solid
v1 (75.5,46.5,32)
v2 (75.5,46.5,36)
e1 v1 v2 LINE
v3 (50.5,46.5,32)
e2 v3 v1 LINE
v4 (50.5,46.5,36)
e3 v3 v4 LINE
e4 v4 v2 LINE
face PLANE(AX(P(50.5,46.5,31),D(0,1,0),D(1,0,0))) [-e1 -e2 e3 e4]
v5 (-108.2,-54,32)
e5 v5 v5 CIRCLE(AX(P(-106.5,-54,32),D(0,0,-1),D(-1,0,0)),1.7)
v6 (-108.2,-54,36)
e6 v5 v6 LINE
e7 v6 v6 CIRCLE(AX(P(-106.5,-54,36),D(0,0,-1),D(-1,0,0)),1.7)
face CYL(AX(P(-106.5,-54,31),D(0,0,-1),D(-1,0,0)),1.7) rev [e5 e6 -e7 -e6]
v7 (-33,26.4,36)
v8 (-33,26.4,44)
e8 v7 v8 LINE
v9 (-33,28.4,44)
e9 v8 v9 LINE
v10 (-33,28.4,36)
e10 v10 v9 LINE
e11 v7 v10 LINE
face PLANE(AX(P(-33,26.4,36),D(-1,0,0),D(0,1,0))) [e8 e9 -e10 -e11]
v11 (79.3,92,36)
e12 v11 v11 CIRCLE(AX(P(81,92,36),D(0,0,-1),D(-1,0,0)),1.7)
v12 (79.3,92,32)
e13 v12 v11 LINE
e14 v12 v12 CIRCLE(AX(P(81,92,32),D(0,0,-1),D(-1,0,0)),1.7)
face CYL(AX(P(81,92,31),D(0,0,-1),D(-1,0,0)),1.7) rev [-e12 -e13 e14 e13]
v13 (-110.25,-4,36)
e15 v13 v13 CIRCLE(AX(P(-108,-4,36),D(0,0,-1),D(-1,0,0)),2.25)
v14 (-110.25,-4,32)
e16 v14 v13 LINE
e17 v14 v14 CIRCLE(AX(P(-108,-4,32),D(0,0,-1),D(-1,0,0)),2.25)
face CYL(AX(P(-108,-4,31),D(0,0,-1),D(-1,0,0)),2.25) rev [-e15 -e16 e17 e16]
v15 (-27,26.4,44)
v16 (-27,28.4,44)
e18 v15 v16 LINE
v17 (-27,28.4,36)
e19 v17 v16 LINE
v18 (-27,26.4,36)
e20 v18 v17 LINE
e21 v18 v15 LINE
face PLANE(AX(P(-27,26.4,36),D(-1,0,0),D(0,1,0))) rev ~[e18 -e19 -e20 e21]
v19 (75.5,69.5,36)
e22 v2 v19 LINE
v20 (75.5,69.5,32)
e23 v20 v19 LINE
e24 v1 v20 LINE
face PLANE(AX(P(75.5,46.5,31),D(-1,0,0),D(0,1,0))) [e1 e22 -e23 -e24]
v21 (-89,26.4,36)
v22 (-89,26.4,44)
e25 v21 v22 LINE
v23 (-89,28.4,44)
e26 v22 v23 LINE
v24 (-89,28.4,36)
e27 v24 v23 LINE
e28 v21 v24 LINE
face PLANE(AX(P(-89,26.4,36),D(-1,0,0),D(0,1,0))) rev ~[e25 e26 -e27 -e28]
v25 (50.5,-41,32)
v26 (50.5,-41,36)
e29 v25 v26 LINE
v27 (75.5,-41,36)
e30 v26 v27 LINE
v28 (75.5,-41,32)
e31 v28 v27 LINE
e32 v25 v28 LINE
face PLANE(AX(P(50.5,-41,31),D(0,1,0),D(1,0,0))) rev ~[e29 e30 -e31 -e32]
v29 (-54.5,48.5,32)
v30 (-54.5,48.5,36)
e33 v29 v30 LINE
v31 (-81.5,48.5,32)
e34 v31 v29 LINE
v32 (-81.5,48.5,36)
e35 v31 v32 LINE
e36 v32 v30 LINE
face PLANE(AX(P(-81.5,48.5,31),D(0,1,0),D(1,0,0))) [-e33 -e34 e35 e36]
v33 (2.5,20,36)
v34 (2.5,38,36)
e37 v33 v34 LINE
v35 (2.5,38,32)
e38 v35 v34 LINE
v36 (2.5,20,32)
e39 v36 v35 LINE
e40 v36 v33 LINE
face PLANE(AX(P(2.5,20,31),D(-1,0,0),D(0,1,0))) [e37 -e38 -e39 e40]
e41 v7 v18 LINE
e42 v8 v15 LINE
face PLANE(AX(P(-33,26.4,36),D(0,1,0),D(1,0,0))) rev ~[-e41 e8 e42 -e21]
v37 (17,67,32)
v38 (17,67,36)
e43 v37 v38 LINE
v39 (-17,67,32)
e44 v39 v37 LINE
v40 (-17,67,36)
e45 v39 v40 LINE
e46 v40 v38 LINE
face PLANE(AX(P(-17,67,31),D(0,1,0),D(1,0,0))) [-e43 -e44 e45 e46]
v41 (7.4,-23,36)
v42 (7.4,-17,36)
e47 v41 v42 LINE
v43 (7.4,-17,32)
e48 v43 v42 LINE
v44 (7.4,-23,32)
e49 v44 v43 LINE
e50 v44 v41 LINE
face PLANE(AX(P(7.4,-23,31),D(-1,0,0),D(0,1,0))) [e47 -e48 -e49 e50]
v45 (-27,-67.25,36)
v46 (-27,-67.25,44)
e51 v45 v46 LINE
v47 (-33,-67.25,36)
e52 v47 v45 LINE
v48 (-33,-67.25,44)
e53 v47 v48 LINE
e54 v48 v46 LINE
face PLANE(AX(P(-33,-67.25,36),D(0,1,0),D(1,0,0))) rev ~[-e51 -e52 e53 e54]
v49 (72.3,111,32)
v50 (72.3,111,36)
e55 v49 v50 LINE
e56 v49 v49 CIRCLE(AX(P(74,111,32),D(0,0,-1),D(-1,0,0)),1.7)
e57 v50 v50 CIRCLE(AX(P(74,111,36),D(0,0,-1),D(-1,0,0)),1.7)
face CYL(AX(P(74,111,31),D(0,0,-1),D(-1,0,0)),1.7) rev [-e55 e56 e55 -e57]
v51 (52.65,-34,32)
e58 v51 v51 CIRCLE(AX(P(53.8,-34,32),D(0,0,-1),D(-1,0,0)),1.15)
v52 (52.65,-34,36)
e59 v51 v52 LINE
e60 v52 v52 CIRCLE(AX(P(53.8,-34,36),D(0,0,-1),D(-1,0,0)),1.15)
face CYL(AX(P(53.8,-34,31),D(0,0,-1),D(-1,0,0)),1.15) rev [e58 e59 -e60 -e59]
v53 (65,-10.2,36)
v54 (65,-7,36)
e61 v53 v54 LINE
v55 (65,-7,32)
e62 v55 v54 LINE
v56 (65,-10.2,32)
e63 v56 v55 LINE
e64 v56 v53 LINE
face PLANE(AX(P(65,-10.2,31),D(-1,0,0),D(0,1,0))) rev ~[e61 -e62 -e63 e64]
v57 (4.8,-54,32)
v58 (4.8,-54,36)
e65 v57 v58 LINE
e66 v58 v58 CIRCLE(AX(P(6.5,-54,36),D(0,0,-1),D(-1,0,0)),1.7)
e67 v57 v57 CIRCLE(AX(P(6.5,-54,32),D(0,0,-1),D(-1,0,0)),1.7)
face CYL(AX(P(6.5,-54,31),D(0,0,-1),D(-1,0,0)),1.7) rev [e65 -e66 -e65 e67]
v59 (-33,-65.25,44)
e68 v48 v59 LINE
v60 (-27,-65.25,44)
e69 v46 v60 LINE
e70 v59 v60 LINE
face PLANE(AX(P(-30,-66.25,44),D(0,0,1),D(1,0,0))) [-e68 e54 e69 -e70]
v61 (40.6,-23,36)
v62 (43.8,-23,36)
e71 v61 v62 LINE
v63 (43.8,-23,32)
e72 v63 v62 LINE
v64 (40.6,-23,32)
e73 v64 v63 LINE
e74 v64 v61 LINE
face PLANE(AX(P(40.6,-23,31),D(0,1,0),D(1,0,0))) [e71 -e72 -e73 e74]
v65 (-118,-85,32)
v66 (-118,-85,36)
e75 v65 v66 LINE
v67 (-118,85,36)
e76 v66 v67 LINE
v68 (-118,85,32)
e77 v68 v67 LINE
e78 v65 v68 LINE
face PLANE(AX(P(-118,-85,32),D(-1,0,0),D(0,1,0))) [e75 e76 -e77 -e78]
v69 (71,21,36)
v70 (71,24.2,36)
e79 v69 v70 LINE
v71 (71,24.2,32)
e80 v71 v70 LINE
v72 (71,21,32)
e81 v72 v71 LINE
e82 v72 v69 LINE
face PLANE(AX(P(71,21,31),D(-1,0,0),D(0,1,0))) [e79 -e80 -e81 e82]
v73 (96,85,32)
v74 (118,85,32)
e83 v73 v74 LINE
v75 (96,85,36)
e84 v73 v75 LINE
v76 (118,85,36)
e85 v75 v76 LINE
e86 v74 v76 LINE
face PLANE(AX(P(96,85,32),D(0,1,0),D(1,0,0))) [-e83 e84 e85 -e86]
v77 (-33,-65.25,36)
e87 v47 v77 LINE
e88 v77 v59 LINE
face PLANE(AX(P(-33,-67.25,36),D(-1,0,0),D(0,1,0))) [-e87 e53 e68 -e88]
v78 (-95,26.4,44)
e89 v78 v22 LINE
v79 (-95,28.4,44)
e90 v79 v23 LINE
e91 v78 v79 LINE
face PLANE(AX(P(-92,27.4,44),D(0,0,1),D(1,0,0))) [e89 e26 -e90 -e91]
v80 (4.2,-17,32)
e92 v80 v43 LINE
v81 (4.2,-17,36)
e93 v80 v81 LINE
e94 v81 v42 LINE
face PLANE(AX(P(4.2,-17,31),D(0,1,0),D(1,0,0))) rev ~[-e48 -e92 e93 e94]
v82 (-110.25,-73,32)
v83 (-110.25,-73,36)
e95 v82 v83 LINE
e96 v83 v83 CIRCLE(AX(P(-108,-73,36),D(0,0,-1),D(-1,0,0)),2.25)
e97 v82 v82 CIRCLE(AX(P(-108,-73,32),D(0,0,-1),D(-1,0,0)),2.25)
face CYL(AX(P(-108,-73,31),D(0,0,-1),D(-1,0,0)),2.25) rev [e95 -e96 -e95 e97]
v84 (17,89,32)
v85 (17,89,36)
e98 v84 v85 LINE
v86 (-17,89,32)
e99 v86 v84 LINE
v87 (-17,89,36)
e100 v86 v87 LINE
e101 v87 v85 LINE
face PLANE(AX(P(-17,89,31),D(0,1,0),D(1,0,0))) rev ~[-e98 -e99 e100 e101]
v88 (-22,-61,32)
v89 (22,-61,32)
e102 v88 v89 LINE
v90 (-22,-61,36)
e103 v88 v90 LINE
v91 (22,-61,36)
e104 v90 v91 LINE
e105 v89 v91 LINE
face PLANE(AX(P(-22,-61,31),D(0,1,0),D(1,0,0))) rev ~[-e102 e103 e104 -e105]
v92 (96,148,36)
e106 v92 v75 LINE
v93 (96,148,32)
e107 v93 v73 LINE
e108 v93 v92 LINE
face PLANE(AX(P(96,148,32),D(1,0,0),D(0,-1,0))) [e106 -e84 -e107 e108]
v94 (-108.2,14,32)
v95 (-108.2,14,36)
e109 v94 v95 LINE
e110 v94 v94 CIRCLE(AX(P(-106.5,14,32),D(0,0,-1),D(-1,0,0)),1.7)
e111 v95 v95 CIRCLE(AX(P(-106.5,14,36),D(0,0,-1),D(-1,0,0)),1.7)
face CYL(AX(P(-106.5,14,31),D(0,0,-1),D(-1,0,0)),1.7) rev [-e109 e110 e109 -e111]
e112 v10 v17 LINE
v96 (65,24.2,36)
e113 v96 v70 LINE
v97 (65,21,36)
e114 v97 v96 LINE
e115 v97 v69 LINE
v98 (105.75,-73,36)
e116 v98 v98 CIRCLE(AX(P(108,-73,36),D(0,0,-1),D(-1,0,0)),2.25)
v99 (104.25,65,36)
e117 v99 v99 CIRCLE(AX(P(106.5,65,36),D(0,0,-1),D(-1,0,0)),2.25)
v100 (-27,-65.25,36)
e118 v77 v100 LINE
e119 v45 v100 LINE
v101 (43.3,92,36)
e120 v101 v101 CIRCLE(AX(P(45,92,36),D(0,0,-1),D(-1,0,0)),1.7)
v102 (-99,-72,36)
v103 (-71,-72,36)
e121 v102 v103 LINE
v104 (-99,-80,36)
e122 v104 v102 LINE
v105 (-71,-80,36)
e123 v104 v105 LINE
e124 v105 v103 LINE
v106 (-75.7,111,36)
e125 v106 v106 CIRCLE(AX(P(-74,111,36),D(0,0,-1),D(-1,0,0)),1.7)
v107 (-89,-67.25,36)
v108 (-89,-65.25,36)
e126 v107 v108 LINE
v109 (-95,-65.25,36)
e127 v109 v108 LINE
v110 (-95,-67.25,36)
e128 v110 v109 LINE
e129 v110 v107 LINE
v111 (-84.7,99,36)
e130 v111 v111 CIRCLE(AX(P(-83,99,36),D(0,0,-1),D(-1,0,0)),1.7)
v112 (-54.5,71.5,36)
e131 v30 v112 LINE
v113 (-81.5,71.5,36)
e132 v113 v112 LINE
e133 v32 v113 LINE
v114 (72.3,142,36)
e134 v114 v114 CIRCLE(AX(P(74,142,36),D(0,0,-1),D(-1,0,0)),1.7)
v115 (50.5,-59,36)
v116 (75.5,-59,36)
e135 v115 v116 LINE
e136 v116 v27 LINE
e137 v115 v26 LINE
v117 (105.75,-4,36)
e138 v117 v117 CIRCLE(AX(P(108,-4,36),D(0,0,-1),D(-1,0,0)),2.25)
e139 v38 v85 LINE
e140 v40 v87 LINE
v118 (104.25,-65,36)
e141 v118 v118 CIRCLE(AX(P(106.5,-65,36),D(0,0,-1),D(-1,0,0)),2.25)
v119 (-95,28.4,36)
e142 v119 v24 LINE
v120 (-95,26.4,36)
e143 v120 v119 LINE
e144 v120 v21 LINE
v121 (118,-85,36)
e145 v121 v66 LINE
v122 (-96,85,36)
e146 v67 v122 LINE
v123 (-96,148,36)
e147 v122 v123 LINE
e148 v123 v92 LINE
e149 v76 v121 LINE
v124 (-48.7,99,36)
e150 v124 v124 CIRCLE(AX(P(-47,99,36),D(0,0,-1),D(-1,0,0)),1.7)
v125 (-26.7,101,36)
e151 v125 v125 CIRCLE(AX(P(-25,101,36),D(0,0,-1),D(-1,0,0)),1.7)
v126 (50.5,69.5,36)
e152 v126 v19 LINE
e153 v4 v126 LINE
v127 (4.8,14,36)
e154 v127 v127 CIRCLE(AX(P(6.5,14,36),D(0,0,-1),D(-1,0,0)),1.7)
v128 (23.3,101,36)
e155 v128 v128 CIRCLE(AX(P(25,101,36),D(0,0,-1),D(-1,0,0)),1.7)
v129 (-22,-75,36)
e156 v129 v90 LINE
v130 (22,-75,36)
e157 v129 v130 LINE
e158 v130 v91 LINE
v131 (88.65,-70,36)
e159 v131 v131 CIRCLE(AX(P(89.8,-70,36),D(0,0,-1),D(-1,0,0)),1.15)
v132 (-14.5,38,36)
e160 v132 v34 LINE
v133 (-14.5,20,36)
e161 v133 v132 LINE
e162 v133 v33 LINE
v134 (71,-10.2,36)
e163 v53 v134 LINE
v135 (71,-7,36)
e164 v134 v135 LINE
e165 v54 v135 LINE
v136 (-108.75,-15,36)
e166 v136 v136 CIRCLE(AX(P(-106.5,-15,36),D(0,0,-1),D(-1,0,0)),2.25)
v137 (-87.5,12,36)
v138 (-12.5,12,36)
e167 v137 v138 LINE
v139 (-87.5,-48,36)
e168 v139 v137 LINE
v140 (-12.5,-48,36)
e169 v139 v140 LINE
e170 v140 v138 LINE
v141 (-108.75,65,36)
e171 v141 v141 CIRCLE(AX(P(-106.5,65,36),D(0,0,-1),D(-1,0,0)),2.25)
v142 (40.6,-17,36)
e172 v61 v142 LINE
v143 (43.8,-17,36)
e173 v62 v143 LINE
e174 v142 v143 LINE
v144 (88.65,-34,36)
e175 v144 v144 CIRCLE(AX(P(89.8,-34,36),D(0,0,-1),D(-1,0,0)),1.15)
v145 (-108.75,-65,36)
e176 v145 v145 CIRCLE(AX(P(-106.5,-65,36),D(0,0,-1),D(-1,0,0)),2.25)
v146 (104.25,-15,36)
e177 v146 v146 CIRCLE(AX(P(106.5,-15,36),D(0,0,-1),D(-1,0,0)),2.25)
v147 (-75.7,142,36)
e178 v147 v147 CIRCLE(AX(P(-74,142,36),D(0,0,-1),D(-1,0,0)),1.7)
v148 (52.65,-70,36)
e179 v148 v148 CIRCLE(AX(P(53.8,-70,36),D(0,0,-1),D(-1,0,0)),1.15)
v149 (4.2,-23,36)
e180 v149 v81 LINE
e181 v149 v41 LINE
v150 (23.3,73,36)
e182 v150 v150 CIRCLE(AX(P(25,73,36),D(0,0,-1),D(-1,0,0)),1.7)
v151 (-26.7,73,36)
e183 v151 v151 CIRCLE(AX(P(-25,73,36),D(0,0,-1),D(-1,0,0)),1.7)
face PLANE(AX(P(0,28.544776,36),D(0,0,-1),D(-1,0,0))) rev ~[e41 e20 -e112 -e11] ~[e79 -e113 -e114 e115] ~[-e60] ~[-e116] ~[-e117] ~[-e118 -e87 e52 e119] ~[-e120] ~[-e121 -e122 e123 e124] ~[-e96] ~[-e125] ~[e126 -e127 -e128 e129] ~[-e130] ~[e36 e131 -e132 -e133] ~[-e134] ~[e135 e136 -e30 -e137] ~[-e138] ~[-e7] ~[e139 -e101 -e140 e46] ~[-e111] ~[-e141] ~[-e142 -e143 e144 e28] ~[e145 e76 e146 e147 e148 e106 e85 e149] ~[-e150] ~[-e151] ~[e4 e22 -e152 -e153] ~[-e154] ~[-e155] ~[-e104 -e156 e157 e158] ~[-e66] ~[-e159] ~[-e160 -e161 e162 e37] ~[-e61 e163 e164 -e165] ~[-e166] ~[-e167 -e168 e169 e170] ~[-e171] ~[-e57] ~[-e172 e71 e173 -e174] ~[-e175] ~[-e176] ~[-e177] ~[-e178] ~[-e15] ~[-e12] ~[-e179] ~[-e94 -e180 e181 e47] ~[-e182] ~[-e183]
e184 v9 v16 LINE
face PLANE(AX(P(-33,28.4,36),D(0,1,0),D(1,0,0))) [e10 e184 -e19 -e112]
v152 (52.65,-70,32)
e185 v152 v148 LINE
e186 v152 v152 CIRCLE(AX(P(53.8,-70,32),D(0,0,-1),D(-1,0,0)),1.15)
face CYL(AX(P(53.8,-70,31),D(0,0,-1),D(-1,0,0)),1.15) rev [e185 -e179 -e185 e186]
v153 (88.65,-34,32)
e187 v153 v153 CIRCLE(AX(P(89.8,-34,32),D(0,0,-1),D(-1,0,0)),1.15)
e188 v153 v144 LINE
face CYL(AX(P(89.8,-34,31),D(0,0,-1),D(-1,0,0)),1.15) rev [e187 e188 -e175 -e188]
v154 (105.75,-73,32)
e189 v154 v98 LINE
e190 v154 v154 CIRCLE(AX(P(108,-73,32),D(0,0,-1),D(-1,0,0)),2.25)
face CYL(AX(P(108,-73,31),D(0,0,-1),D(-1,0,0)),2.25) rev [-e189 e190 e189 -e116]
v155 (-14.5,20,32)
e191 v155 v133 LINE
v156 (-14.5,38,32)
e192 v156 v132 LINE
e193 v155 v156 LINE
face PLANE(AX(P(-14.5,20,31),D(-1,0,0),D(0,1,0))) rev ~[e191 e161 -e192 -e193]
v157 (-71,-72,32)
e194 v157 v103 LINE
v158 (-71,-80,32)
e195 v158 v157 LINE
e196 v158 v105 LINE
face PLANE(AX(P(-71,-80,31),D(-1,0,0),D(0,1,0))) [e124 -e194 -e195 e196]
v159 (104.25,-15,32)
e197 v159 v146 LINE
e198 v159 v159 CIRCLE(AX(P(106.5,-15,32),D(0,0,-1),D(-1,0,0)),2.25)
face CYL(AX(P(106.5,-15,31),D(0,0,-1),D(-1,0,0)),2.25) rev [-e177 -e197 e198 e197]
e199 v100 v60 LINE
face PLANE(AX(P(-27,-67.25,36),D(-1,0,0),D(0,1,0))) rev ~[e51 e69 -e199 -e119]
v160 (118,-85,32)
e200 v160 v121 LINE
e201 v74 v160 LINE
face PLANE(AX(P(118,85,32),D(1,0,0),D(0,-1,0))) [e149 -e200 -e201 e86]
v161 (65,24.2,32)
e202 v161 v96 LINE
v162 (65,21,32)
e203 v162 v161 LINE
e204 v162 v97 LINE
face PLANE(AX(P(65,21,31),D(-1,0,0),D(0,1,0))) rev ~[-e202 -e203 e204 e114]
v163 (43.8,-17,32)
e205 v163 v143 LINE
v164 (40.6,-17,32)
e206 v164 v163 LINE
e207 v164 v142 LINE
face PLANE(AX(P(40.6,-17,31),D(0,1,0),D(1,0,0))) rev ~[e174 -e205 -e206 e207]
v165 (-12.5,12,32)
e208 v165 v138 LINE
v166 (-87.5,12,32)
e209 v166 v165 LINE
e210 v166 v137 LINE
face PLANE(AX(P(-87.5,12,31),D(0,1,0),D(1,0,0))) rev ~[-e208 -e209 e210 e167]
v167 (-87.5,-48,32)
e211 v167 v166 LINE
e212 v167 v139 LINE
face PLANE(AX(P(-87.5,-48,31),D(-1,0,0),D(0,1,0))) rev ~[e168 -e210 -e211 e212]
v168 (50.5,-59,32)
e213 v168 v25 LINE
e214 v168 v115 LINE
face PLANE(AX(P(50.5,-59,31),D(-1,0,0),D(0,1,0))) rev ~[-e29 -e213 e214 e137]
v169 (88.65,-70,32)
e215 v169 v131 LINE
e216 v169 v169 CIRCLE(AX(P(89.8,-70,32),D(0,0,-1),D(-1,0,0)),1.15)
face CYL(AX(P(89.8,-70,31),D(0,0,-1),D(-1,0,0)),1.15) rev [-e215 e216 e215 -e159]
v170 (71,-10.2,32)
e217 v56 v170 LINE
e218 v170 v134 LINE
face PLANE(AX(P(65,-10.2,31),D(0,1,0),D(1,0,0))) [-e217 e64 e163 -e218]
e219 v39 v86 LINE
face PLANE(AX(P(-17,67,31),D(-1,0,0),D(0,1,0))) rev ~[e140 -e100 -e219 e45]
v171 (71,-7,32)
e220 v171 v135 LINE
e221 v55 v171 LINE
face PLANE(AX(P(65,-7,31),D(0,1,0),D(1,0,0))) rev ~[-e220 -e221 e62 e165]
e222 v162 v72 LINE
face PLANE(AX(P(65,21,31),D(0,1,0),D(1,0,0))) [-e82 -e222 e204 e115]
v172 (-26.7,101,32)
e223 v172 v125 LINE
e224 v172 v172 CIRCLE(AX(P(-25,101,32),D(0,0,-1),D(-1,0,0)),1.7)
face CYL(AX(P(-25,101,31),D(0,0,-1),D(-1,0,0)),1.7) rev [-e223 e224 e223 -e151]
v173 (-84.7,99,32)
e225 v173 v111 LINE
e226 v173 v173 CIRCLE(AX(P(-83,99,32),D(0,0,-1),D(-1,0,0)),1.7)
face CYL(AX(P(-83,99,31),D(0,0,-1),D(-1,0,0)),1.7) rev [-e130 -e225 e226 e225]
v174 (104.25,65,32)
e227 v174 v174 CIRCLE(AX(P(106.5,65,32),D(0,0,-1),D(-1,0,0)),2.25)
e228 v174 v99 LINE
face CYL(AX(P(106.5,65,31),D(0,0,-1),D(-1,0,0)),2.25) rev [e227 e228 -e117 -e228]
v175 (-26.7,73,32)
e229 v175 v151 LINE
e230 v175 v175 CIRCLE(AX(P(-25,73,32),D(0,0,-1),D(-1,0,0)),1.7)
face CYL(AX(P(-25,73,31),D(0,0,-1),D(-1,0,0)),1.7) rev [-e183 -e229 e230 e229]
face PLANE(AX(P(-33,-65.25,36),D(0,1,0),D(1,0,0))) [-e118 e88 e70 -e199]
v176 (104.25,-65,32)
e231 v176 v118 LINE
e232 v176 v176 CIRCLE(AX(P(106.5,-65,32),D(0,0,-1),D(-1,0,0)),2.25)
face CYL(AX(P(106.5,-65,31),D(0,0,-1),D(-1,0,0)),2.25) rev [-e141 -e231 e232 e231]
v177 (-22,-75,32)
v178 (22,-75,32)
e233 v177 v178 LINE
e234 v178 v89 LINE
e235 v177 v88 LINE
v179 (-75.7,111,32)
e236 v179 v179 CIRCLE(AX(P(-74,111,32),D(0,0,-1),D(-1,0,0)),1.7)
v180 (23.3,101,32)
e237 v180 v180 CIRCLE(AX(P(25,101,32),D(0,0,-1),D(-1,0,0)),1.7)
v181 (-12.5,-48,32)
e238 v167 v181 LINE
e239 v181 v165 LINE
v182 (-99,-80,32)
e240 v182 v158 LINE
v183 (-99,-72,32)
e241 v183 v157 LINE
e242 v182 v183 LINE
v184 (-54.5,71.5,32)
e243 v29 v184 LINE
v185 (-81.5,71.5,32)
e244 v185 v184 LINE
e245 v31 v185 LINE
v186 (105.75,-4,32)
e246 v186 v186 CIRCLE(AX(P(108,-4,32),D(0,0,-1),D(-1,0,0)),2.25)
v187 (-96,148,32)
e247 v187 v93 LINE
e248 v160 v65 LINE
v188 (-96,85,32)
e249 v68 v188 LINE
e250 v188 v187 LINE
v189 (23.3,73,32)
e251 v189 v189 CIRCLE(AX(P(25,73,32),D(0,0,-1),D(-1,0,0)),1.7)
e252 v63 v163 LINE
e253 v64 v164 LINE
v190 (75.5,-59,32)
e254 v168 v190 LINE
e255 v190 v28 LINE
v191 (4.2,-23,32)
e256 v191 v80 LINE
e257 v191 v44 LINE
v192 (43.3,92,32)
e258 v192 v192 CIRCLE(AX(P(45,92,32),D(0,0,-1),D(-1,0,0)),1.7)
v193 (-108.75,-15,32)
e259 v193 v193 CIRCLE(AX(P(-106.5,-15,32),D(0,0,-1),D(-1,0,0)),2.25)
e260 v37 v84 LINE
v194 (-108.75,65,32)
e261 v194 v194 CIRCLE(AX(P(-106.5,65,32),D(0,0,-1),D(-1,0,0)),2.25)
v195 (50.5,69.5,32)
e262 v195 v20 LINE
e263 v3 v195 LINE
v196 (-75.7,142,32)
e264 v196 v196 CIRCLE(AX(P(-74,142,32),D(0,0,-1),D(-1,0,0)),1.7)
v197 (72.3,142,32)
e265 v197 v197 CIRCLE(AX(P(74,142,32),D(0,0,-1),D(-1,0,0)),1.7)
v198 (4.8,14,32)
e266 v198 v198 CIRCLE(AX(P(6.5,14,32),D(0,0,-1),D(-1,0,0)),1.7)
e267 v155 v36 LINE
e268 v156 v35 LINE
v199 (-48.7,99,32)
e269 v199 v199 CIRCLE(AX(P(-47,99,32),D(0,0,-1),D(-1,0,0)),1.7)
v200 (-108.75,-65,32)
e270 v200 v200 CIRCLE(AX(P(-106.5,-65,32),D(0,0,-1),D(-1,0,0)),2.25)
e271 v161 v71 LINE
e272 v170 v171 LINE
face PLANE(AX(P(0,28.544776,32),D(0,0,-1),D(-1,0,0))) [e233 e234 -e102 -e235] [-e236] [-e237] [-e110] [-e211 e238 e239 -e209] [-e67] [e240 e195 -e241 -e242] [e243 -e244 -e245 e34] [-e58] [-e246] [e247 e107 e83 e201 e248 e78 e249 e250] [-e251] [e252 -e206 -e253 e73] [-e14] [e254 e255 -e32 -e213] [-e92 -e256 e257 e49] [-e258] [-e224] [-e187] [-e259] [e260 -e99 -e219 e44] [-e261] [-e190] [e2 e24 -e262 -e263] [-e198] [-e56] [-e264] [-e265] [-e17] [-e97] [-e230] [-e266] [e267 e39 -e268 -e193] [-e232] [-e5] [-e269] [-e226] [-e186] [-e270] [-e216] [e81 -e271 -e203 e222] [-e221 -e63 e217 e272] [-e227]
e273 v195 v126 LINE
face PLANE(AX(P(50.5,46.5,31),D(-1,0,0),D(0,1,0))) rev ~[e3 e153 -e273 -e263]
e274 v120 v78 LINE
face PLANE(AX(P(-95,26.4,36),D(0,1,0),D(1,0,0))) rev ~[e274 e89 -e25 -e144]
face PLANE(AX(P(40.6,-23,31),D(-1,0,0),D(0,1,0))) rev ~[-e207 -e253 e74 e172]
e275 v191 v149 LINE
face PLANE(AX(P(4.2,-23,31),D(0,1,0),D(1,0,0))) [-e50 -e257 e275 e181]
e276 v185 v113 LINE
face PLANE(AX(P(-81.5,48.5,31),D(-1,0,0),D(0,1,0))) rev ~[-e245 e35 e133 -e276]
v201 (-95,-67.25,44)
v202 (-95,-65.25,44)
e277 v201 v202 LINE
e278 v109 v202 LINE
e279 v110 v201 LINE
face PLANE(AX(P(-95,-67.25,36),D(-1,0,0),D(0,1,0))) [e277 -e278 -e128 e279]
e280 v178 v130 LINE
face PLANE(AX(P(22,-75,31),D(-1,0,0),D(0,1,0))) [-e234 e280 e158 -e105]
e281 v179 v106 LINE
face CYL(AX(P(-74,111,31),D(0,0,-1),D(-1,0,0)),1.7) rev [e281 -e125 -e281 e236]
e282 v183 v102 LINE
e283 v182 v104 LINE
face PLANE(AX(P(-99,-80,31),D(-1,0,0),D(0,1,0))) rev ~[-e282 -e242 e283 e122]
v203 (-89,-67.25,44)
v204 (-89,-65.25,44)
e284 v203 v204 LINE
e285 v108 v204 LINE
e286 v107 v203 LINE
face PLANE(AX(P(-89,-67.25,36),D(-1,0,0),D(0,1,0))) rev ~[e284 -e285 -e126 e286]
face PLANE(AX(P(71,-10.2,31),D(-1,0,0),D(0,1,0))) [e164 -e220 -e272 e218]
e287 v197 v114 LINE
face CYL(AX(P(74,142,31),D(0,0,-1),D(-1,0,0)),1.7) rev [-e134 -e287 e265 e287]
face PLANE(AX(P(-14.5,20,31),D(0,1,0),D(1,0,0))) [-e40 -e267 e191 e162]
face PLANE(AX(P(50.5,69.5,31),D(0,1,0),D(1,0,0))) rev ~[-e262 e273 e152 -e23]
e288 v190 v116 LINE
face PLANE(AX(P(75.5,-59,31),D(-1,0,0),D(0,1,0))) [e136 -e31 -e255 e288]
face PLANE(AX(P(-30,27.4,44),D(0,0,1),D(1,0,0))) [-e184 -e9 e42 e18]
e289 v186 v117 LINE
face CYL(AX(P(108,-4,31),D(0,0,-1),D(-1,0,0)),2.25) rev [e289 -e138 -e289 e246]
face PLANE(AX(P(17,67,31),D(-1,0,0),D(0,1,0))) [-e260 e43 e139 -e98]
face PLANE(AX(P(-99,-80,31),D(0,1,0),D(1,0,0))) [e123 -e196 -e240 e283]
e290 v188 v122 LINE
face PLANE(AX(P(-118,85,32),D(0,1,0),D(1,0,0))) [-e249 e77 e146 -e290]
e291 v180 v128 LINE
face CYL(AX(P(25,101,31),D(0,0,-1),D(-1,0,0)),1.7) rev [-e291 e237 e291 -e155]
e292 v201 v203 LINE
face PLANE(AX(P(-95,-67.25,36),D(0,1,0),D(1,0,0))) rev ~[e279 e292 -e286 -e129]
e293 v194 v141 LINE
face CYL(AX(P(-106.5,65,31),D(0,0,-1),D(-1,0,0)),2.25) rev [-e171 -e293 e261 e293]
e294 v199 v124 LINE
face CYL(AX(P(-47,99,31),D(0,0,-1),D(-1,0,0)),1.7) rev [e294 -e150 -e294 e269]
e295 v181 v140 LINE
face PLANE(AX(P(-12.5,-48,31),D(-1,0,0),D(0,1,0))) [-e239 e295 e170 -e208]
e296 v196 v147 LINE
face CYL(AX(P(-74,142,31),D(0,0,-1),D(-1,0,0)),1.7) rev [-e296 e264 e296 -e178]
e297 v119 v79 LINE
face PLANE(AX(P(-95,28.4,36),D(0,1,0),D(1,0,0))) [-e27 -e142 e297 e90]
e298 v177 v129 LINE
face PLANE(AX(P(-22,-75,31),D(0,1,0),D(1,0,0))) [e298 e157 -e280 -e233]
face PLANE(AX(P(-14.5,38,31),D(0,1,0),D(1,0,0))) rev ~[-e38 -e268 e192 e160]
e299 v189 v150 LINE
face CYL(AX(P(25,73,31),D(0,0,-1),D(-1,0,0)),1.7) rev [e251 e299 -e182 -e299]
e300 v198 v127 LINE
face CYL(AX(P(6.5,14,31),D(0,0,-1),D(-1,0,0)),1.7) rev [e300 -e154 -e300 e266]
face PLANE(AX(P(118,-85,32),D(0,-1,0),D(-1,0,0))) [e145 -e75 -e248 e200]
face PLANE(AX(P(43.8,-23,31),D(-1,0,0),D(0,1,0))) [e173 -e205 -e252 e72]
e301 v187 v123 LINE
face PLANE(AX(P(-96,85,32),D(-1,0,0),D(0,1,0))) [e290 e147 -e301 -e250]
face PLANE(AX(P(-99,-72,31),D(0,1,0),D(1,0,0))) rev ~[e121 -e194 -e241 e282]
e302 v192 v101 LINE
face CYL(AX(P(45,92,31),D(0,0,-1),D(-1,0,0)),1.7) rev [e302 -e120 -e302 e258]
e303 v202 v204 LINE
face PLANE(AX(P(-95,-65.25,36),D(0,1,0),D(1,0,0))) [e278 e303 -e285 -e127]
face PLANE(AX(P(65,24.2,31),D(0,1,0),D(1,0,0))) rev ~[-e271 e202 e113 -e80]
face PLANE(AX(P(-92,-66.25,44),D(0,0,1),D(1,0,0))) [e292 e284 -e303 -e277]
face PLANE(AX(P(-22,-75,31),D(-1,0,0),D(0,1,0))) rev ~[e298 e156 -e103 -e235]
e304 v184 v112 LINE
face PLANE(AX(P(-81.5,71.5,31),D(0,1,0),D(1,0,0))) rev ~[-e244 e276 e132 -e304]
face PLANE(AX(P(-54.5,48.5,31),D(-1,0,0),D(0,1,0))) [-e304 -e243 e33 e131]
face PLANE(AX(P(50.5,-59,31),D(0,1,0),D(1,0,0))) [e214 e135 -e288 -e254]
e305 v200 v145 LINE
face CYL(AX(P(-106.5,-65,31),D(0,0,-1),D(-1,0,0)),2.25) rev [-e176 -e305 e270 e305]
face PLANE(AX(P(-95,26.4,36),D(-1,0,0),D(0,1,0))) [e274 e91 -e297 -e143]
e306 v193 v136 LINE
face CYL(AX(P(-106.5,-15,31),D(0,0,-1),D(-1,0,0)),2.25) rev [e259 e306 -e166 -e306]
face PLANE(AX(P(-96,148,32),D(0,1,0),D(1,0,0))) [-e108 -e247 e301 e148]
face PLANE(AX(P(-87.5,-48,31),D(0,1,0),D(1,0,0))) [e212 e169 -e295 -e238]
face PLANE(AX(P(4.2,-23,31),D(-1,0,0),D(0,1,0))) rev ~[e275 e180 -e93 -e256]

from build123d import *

# Parameters (mm, degrees)
EQUIPMENT_DECK_START                   = 32
EQUIPMENT_DECK_DEPTH                   = 4
EQUIPMENT_AND_CABLE_WINDOWS_START      = 31
SKETCH_EQUIPMENT_AND_CABLE_WINDOWS_W   = 28
SKETCH_EQUIPMENT_AND_CABLE_WINDOWS_H   = 8
SKETCH_EQUIPMENT_AND_CABLE_WINDOWS_W_2 = 44
SKETCH_EQUIPMENT_AND_CABLE_WINDOWS_H_2 = 14
SKETCH_EQUIPMENT_AND_CABLE_WINDOWS_W_3 = 25
SKETCH_EQUIPMENT_AND_CABLE_WINDOWS_H_3 = 18
SKETCH_EQUIPMENT_AND_CABLE_WINDOWS_W_4 = 75
SKETCH_EQUIPMENT_AND_CABLE_WINDOWS_H_4 = 60
SKETCH_EQUIPMENT_AND_CABLE_WINDOWS_W_5 = 17
SKETCH_EQUIPMENT_AND_CABLE_WINDOWS_H_5 = 23
SKETCH_EQUIPMENT_AND_CABLE_WINDOWS_W_6 = 27
SKETCH_EQUIPMENT_AND_CABLE_WINDOWS_W_7 = 34
SKETCH_EQUIPMENT_AND_CABLE_WINDOWS_H_6 = 22
EQUIPMENT_AND_CABLE_WINDOWS_DEPTH      = 6
CHASSIS_M4_START                       = 31
SKETCH_CHASSIS_M4_R                    = 2.25
CHASSIS_M4_DEPTH                       = 6
MID_POSTS_M4_START                     = 31
SKETCH_MID_POSTS_M4_R                  = 2.25
MID_POSTS_M4_DEPTH                     = 6
JETSON_CLAMPS_M3_START                 = 31
SKETCH_JETSON_CLAMPS_M3_R              = 1.7
JETSON_CLAMPS_M3_DEPTH                 = 6
MC02_M2_START                          = 31
SKETCH_MC02_M2_R                       = 1.15
MC02_M2_DEPTH                          = 6
XT_POSTS_M3_START                      = 31
SKETCH_XT_POSTS_M3_R                   = 1.7
XT_POSTS_M3_DEPTH                      = 6
DRIVER_TRAYS_M3_START                  = 31
SKETCH_DRIVER_TRAYS_M3_R               = 1.7
DRIVER_TRAYS_M3_DEPTH                  = 6
CAMERA_M3_START                        = 31
SKETCH_CAMERA_M3_R                     = 1.7
CAMERA_M3_DEPTH                        = 6
LOGIC_AND_FFC_STRAP_SLOTS_START        = 31
SKETCH_LOGIC_AND_FFC_STRAP_SLOTS_W     = 3.2
SKETCH_LOGIC_AND_FFC_STRAP_SLOTS_H     = 6
SKETCH_LOGIC_AND_FFC_STRAP_SLOTS_W_2   = 6
SKETCH_LOGIC_AND_FFC_STRAP_SLOTS_H_2   = 3.2
LOGIC_AND_FFC_STRAP_SLOTS_DEPTH        = 6
JETSON_LONGITUDINAL_STOPS_START        = 36
SKETCH_JETSON_LONGITUDINAL_STOPS_W     = 6
SKETCH_JETSON_LONGITUDINAL_STOPS_H     = 2
JETSON_LONGITUDINAL_STOPS_DEPTH        = 8


with BuildPart() as part:
    # Sketch_Equipment_deck → Equipment_deck (new body)
    with BuildSketch(Plane.XY.offset(EQUIPMENT_DECK_START)):
        Polygon((118, 85), (118, -85), (-118, -85), (-118, 85), (-96, 85), (-96, 148), (96, 148), (96, 85), align=None)
    extrude(amount=EQUIPMENT_DECK_DEPTH)

    # Sketch_Equipment_and_cable_windows → Equipment_and_cable_windows (cut)
    with BuildSketch(Plane.XY.offset(EQUIPMENT_AND_CABLE_WINDOWS_START)):
        with Locations((-85, -76)):
            Rectangle(SKETCH_EQUIPMENT_AND_CABLE_WINDOWS_W, SKETCH_EQUIPMENT_AND_CABLE_WINDOWS_H)
        with Locations((0, -68)):
            Rectangle(SKETCH_EQUIPMENT_AND_CABLE_WINDOWS_W_2, SKETCH_EQUIPMENT_AND_CABLE_WINDOWS_H_2)
        with Locations((63, -50)):
            Rectangle(SKETCH_EQUIPMENT_AND_CABLE_WINDOWS_W_3, SKETCH_EQUIPMENT_AND_CABLE_WINDOWS_H_3)
        with Locations((-50, -18)):
            Rectangle(SKETCH_EQUIPMENT_AND_CABLE_WINDOWS_W_4, SKETCH_EQUIPMENT_AND_CABLE_WINDOWS_H_4)
        with Locations((-6, 29)):
            Rectangle(SKETCH_EQUIPMENT_AND_CABLE_WINDOWS_W_5, SKETCH_EQUIPMENT_AND_CABLE_WINDOWS_H_3)
        with Locations((63, 58)):
            Rectangle(SKETCH_EQUIPMENT_AND_CABLE_WINDOWS_W_3, SKETCH_EQUIPMENT_AND_CABLE_WINDOWS_H_5)
        with Locations((-68, 60)):
            Rectangle(SKETCH_EQUIPMENT_AND_CABLE_WINDOWS_W_6, SKETCH_EQUIPMENT_AND_CABLE_WINDOWS_H_5)
        with Locations((0, 78)):
            Rectangle(SKETCH_EQUIPMENT_AND_CABLE_WINDOWS_W_7, SKETCH_EQUIPMENT_AND_CABLE_WINDOWS_H_6)
    extrude(amount=EQUIPMENT_AND_CABLE_WINDOWS_DEPTH, mode=Mode.SUBTRACT)

    # Sketch_Chassis_M4 → Chassis_M4 (cut)
    with BuildSketch(Plane.XY.offset(CHASSIS_M4_START)):
        with Locations(Location((-106.5, -65, 0), (0, 0, 180))):
            Circle(SKETCH_CHASSIS_M4_R)
        with Locations(Location((-106.5, -15, 0), (0, 0, 180))):
            Circle(SKETCH_CHASSIS_M4_R)
        with Locations(Location((-106.5, 65, 0), (0, 0, 180))):
            Circle(SKETCH_CHASSIS_M4_R)
        with Locations(Location((106.5, -65, 0), (0, 0, 180))):
            Circle(SKETCH_CHASSIS_M4_R)
        with Locations(Location((106.5, -15, 0), (0, 0, 180))):
            Circle(SKETCH_CHASSIS_M4_R)
        with Locations(Location((106.5, 65, 0), (0, 0, 180))):
            Circle(SKETCH_CHASSIS_M4_R)
    extrude(amount=CHASSIS_M4_DEPTH, mode=Mode.SUBTRACT)

    # Sketch_MID_posts_M4 → MID_posts_M4 (cut)
    with BuildSketch(Plane.XY.offset(MID_POSTS_M4_START)):
        with Locations(Location((-108, -73, 0), (0, 0, 180))):
            Circle(SKETCH_MID_POSTS_M4_R)
        with Locations(Location((-108, -4, 0), (0, 0, 180))):
            Circle(SKETCH_MID_POSTS_M4_R)
        with Locations(Location((108, -73, 0), (0, 0, 180))):
            Circle(SKETCH_MID_POSTS_M4_R)
        with Locations(Location((108, -4, 0), (0, 0, 180))):
            Circle(SKETCH_MID_POSTS_M4_R)
    extrude(amount=MID_POSTS_M4_DEPTH, mode=Mode.SUBTRACT)

    # Sketch_Jetson_clamps_M3 → Jetson_clamps_M3 (cut)
    with BuildSketch(Plane.XY.offset(JETSON_CLAMPS_M3_START)):
        with Locations(Location((-106.5, -54, 0), (0, 0, 180))):
            Circle(SKETCH_JETSON_CLAMPS_M3_R)
        with Locations(Location((-106.5, 14, 0), (0, 0, 180))):
            Circle(SKETCH_JETSON_CLAMPS_M3_R)
        with Locations(Location((6.5, -54, 0), (0, 0, 180))):
            Circle(SKETCH_JETSON_CLAMPS_M3_R)
        with Locations(Location((6.5, 14, 0), (0, 0, 180))):
            Circle(SKETCH_JETSON_CLAMPS_M3_R)
    extrude(amount=JETSON_CLAMPS_M3_DEPTH, mode=Mode.SUBTRACT)

    # Sketch_MC02_M2 → MC02_M2 (cut)
    with BuildSketch(Plane.XY.offset(MC02_M2_START)):
        with Locations(Location((53.8, -70, 0), (0, 0, 180))):
            Circle(SKETCH_MC02_M2_R)
        with Locations(Location((53.8, -34, 0), (0, 0, 180))):
            Circle(SKETCH_MC02_M2_R)
        with Locations(Location((89.8, -70, 0), (0, 0, 180))):
            Circle(SKETCH_MC02_M2_R)
        with Locations(Location((89.8, -34, 0), (0, 0, 180))):
            Circle(SKETCH_MC02_M2_R)
    extrude(amount=MC02_M2_DEPTH, mode=Mode.SUBTRACT)

    # Sketch_XT_posts_M3 → XT_posts_M3 (cut)
    with BuildSketch(Plane.XY.offset(XT_POSTS_M3_START)):
        with Locations(Location((-25, 73, 0), (0, 0, 180))):
            Circle(SKETCH_XT_POSTS_M3_R)
        with Locations(Location((-25, 101, 0), (0, 0, 180))):
            Circle(SKETCH_XT_POSTS_M3_R)
        with Locations(Location((25, 73, 0), (0, 0, 180))):
            Circle(SKETCH_XT_POSTS_M3_R)
        with Locations(Location((25, 101, 0), (0, 0, 180))):
            Circle(SKETCH_XT_POSTS_M3_R)
    extrude(amount=XT_POSTS_M3_DEPTH, mode=Mode.SUBTRACT)

    # Sketch_Driver_trays_M3 → Driver_trays_M3 (cut)
    with BuildSketch(Plane.XY.offset(DRIVER_TRAYS_M3_START)):
        with Locations(Location((-83, 99, 0), (0, 0, 180))):
            Circle(SKETCH_DRIVER_TRAYS_M3_R)
        with Locations(Location((-47, 99, 0), (0, 0, 180))):
            Circle(SKETCH_DRIVER_TRAYS_M3_R)
        with Locations(Location((45, 92, 0), (0, 0, 180))):
            Circle(SKETCH_DRIVER_TRAYS_M3_R)
        with Locations(Location((81, 92, 0), (0, 0, 180))):
            Circle(SKETCH_DRIVER_TRAYS_M3_R)
    extrude(amount=DRIVER_TRAYS_M3_DEPTH, mode=Mode.SUBTRACT)

    # Sketch_Camera_M3 → Camera_M3 (cut)
    with BuildSketch(Plane.XY.offset(CAMERA_M3_START)):
        with Locations(Location((-74, 111, 0), (0, 0, 180))):
            Circle(SKETCH_CAMERA_M3_R)
        with Locations(Location((-74, 142, 0), (0, 0, 180))):
            Circle(SKETCH_CAMERA_M3_R)
        with Locations(Location((74, 111, 0), (0, 0, 180))):
            Circle(SKETCH_CAMERA_M3_R)
        with Locations(Location((74, 142, 0), (0, 0, 180))):
            Circle(SKETCH_CAMERA_M3_R)
    extrude(amount=CAMERA_M3_DEPTH, mode=Mode.SUBTRACT)

    # Sketch_Logic_and_FFC_strap_slots → Logic_and_FFC_strap_slots (cut)
    with BuildSketch(Plane.XY.offset(LOGIC_AND_FFC_STRAP_SLOTS_START)):
        with Locations((5.8, -20)):
            Rectangle(SKETCH_LOGIC_AND_FFC_STRAP_SLOTS_W, SKETCH_LOGIC_AND_FFC_STRAP_SLOTS_H)
        with Locations((42.2, -20)):
            Rectangle(SKETCH_LOGIC_AND_FFC_STRAP_SLOTS_W, SKETCH_LOGIC_AND_FFC_STRAP_SLOTS_H)
        with Locations((68, -8.6)):
            Rectangle(SKETCH_LOGIC_AND_FFC_STRAP_SLOTS_W_2, SKETCH_LOGIC_AND_FFC_STRAP_SLOTS_H_2)
        with Locations((68, 22.6)):
            Rectangle(SKETCH_LOGIC_AND_FFC_STRAP_SLOTS_W_2, SKETCH_LOGIC_AND_FFC_STRAP_SLOTS_H_2)
    extrude(amount=LOGIC_AND_FFC_STRAP_SLOTS_DEPTH, mode=Mode.SUBTRACT)

    # Sketch_Jetson_longitudinal_stops → Jetson_longitudinal_stops (add)
    with BuildSketch(Plane.XY.offset(JETSON_LONGITUDINAL_STOPS_START)):
        with Locations((-92, -66.25)):
            Rectangle(SKETCH_JETSON_LONGITUDINAL_STOPS_W, SKETCH_JETSON_LONGITUDINAL_STOPS_H)
        with Locations((-30, -66.25)):
            Rectangle(SKETCH_JETSON_LONGITUDINAL_STOPS_W, SKETCH_JETSON_LONGITUDINAL_STOPS_H)
        with Locations((-92, 27.4)):
            Rectangle(SKETCH_JETSON_LONGITUDINAL_STOPS_W, SKETCH_JETSON_LONGITUDINAL_STOPS_H)
        with Locations((-30, 27.4)):
            Rectangle(SKETCH_JETSON_LONGITUDINAL_STOPS_W, SKETCH_JETSON_LONGITUDINAL_STOPS_H)
    extrude(amount=JETSON_LONGITUDINAL_STOPS_DEPTH)


solid = part.part
